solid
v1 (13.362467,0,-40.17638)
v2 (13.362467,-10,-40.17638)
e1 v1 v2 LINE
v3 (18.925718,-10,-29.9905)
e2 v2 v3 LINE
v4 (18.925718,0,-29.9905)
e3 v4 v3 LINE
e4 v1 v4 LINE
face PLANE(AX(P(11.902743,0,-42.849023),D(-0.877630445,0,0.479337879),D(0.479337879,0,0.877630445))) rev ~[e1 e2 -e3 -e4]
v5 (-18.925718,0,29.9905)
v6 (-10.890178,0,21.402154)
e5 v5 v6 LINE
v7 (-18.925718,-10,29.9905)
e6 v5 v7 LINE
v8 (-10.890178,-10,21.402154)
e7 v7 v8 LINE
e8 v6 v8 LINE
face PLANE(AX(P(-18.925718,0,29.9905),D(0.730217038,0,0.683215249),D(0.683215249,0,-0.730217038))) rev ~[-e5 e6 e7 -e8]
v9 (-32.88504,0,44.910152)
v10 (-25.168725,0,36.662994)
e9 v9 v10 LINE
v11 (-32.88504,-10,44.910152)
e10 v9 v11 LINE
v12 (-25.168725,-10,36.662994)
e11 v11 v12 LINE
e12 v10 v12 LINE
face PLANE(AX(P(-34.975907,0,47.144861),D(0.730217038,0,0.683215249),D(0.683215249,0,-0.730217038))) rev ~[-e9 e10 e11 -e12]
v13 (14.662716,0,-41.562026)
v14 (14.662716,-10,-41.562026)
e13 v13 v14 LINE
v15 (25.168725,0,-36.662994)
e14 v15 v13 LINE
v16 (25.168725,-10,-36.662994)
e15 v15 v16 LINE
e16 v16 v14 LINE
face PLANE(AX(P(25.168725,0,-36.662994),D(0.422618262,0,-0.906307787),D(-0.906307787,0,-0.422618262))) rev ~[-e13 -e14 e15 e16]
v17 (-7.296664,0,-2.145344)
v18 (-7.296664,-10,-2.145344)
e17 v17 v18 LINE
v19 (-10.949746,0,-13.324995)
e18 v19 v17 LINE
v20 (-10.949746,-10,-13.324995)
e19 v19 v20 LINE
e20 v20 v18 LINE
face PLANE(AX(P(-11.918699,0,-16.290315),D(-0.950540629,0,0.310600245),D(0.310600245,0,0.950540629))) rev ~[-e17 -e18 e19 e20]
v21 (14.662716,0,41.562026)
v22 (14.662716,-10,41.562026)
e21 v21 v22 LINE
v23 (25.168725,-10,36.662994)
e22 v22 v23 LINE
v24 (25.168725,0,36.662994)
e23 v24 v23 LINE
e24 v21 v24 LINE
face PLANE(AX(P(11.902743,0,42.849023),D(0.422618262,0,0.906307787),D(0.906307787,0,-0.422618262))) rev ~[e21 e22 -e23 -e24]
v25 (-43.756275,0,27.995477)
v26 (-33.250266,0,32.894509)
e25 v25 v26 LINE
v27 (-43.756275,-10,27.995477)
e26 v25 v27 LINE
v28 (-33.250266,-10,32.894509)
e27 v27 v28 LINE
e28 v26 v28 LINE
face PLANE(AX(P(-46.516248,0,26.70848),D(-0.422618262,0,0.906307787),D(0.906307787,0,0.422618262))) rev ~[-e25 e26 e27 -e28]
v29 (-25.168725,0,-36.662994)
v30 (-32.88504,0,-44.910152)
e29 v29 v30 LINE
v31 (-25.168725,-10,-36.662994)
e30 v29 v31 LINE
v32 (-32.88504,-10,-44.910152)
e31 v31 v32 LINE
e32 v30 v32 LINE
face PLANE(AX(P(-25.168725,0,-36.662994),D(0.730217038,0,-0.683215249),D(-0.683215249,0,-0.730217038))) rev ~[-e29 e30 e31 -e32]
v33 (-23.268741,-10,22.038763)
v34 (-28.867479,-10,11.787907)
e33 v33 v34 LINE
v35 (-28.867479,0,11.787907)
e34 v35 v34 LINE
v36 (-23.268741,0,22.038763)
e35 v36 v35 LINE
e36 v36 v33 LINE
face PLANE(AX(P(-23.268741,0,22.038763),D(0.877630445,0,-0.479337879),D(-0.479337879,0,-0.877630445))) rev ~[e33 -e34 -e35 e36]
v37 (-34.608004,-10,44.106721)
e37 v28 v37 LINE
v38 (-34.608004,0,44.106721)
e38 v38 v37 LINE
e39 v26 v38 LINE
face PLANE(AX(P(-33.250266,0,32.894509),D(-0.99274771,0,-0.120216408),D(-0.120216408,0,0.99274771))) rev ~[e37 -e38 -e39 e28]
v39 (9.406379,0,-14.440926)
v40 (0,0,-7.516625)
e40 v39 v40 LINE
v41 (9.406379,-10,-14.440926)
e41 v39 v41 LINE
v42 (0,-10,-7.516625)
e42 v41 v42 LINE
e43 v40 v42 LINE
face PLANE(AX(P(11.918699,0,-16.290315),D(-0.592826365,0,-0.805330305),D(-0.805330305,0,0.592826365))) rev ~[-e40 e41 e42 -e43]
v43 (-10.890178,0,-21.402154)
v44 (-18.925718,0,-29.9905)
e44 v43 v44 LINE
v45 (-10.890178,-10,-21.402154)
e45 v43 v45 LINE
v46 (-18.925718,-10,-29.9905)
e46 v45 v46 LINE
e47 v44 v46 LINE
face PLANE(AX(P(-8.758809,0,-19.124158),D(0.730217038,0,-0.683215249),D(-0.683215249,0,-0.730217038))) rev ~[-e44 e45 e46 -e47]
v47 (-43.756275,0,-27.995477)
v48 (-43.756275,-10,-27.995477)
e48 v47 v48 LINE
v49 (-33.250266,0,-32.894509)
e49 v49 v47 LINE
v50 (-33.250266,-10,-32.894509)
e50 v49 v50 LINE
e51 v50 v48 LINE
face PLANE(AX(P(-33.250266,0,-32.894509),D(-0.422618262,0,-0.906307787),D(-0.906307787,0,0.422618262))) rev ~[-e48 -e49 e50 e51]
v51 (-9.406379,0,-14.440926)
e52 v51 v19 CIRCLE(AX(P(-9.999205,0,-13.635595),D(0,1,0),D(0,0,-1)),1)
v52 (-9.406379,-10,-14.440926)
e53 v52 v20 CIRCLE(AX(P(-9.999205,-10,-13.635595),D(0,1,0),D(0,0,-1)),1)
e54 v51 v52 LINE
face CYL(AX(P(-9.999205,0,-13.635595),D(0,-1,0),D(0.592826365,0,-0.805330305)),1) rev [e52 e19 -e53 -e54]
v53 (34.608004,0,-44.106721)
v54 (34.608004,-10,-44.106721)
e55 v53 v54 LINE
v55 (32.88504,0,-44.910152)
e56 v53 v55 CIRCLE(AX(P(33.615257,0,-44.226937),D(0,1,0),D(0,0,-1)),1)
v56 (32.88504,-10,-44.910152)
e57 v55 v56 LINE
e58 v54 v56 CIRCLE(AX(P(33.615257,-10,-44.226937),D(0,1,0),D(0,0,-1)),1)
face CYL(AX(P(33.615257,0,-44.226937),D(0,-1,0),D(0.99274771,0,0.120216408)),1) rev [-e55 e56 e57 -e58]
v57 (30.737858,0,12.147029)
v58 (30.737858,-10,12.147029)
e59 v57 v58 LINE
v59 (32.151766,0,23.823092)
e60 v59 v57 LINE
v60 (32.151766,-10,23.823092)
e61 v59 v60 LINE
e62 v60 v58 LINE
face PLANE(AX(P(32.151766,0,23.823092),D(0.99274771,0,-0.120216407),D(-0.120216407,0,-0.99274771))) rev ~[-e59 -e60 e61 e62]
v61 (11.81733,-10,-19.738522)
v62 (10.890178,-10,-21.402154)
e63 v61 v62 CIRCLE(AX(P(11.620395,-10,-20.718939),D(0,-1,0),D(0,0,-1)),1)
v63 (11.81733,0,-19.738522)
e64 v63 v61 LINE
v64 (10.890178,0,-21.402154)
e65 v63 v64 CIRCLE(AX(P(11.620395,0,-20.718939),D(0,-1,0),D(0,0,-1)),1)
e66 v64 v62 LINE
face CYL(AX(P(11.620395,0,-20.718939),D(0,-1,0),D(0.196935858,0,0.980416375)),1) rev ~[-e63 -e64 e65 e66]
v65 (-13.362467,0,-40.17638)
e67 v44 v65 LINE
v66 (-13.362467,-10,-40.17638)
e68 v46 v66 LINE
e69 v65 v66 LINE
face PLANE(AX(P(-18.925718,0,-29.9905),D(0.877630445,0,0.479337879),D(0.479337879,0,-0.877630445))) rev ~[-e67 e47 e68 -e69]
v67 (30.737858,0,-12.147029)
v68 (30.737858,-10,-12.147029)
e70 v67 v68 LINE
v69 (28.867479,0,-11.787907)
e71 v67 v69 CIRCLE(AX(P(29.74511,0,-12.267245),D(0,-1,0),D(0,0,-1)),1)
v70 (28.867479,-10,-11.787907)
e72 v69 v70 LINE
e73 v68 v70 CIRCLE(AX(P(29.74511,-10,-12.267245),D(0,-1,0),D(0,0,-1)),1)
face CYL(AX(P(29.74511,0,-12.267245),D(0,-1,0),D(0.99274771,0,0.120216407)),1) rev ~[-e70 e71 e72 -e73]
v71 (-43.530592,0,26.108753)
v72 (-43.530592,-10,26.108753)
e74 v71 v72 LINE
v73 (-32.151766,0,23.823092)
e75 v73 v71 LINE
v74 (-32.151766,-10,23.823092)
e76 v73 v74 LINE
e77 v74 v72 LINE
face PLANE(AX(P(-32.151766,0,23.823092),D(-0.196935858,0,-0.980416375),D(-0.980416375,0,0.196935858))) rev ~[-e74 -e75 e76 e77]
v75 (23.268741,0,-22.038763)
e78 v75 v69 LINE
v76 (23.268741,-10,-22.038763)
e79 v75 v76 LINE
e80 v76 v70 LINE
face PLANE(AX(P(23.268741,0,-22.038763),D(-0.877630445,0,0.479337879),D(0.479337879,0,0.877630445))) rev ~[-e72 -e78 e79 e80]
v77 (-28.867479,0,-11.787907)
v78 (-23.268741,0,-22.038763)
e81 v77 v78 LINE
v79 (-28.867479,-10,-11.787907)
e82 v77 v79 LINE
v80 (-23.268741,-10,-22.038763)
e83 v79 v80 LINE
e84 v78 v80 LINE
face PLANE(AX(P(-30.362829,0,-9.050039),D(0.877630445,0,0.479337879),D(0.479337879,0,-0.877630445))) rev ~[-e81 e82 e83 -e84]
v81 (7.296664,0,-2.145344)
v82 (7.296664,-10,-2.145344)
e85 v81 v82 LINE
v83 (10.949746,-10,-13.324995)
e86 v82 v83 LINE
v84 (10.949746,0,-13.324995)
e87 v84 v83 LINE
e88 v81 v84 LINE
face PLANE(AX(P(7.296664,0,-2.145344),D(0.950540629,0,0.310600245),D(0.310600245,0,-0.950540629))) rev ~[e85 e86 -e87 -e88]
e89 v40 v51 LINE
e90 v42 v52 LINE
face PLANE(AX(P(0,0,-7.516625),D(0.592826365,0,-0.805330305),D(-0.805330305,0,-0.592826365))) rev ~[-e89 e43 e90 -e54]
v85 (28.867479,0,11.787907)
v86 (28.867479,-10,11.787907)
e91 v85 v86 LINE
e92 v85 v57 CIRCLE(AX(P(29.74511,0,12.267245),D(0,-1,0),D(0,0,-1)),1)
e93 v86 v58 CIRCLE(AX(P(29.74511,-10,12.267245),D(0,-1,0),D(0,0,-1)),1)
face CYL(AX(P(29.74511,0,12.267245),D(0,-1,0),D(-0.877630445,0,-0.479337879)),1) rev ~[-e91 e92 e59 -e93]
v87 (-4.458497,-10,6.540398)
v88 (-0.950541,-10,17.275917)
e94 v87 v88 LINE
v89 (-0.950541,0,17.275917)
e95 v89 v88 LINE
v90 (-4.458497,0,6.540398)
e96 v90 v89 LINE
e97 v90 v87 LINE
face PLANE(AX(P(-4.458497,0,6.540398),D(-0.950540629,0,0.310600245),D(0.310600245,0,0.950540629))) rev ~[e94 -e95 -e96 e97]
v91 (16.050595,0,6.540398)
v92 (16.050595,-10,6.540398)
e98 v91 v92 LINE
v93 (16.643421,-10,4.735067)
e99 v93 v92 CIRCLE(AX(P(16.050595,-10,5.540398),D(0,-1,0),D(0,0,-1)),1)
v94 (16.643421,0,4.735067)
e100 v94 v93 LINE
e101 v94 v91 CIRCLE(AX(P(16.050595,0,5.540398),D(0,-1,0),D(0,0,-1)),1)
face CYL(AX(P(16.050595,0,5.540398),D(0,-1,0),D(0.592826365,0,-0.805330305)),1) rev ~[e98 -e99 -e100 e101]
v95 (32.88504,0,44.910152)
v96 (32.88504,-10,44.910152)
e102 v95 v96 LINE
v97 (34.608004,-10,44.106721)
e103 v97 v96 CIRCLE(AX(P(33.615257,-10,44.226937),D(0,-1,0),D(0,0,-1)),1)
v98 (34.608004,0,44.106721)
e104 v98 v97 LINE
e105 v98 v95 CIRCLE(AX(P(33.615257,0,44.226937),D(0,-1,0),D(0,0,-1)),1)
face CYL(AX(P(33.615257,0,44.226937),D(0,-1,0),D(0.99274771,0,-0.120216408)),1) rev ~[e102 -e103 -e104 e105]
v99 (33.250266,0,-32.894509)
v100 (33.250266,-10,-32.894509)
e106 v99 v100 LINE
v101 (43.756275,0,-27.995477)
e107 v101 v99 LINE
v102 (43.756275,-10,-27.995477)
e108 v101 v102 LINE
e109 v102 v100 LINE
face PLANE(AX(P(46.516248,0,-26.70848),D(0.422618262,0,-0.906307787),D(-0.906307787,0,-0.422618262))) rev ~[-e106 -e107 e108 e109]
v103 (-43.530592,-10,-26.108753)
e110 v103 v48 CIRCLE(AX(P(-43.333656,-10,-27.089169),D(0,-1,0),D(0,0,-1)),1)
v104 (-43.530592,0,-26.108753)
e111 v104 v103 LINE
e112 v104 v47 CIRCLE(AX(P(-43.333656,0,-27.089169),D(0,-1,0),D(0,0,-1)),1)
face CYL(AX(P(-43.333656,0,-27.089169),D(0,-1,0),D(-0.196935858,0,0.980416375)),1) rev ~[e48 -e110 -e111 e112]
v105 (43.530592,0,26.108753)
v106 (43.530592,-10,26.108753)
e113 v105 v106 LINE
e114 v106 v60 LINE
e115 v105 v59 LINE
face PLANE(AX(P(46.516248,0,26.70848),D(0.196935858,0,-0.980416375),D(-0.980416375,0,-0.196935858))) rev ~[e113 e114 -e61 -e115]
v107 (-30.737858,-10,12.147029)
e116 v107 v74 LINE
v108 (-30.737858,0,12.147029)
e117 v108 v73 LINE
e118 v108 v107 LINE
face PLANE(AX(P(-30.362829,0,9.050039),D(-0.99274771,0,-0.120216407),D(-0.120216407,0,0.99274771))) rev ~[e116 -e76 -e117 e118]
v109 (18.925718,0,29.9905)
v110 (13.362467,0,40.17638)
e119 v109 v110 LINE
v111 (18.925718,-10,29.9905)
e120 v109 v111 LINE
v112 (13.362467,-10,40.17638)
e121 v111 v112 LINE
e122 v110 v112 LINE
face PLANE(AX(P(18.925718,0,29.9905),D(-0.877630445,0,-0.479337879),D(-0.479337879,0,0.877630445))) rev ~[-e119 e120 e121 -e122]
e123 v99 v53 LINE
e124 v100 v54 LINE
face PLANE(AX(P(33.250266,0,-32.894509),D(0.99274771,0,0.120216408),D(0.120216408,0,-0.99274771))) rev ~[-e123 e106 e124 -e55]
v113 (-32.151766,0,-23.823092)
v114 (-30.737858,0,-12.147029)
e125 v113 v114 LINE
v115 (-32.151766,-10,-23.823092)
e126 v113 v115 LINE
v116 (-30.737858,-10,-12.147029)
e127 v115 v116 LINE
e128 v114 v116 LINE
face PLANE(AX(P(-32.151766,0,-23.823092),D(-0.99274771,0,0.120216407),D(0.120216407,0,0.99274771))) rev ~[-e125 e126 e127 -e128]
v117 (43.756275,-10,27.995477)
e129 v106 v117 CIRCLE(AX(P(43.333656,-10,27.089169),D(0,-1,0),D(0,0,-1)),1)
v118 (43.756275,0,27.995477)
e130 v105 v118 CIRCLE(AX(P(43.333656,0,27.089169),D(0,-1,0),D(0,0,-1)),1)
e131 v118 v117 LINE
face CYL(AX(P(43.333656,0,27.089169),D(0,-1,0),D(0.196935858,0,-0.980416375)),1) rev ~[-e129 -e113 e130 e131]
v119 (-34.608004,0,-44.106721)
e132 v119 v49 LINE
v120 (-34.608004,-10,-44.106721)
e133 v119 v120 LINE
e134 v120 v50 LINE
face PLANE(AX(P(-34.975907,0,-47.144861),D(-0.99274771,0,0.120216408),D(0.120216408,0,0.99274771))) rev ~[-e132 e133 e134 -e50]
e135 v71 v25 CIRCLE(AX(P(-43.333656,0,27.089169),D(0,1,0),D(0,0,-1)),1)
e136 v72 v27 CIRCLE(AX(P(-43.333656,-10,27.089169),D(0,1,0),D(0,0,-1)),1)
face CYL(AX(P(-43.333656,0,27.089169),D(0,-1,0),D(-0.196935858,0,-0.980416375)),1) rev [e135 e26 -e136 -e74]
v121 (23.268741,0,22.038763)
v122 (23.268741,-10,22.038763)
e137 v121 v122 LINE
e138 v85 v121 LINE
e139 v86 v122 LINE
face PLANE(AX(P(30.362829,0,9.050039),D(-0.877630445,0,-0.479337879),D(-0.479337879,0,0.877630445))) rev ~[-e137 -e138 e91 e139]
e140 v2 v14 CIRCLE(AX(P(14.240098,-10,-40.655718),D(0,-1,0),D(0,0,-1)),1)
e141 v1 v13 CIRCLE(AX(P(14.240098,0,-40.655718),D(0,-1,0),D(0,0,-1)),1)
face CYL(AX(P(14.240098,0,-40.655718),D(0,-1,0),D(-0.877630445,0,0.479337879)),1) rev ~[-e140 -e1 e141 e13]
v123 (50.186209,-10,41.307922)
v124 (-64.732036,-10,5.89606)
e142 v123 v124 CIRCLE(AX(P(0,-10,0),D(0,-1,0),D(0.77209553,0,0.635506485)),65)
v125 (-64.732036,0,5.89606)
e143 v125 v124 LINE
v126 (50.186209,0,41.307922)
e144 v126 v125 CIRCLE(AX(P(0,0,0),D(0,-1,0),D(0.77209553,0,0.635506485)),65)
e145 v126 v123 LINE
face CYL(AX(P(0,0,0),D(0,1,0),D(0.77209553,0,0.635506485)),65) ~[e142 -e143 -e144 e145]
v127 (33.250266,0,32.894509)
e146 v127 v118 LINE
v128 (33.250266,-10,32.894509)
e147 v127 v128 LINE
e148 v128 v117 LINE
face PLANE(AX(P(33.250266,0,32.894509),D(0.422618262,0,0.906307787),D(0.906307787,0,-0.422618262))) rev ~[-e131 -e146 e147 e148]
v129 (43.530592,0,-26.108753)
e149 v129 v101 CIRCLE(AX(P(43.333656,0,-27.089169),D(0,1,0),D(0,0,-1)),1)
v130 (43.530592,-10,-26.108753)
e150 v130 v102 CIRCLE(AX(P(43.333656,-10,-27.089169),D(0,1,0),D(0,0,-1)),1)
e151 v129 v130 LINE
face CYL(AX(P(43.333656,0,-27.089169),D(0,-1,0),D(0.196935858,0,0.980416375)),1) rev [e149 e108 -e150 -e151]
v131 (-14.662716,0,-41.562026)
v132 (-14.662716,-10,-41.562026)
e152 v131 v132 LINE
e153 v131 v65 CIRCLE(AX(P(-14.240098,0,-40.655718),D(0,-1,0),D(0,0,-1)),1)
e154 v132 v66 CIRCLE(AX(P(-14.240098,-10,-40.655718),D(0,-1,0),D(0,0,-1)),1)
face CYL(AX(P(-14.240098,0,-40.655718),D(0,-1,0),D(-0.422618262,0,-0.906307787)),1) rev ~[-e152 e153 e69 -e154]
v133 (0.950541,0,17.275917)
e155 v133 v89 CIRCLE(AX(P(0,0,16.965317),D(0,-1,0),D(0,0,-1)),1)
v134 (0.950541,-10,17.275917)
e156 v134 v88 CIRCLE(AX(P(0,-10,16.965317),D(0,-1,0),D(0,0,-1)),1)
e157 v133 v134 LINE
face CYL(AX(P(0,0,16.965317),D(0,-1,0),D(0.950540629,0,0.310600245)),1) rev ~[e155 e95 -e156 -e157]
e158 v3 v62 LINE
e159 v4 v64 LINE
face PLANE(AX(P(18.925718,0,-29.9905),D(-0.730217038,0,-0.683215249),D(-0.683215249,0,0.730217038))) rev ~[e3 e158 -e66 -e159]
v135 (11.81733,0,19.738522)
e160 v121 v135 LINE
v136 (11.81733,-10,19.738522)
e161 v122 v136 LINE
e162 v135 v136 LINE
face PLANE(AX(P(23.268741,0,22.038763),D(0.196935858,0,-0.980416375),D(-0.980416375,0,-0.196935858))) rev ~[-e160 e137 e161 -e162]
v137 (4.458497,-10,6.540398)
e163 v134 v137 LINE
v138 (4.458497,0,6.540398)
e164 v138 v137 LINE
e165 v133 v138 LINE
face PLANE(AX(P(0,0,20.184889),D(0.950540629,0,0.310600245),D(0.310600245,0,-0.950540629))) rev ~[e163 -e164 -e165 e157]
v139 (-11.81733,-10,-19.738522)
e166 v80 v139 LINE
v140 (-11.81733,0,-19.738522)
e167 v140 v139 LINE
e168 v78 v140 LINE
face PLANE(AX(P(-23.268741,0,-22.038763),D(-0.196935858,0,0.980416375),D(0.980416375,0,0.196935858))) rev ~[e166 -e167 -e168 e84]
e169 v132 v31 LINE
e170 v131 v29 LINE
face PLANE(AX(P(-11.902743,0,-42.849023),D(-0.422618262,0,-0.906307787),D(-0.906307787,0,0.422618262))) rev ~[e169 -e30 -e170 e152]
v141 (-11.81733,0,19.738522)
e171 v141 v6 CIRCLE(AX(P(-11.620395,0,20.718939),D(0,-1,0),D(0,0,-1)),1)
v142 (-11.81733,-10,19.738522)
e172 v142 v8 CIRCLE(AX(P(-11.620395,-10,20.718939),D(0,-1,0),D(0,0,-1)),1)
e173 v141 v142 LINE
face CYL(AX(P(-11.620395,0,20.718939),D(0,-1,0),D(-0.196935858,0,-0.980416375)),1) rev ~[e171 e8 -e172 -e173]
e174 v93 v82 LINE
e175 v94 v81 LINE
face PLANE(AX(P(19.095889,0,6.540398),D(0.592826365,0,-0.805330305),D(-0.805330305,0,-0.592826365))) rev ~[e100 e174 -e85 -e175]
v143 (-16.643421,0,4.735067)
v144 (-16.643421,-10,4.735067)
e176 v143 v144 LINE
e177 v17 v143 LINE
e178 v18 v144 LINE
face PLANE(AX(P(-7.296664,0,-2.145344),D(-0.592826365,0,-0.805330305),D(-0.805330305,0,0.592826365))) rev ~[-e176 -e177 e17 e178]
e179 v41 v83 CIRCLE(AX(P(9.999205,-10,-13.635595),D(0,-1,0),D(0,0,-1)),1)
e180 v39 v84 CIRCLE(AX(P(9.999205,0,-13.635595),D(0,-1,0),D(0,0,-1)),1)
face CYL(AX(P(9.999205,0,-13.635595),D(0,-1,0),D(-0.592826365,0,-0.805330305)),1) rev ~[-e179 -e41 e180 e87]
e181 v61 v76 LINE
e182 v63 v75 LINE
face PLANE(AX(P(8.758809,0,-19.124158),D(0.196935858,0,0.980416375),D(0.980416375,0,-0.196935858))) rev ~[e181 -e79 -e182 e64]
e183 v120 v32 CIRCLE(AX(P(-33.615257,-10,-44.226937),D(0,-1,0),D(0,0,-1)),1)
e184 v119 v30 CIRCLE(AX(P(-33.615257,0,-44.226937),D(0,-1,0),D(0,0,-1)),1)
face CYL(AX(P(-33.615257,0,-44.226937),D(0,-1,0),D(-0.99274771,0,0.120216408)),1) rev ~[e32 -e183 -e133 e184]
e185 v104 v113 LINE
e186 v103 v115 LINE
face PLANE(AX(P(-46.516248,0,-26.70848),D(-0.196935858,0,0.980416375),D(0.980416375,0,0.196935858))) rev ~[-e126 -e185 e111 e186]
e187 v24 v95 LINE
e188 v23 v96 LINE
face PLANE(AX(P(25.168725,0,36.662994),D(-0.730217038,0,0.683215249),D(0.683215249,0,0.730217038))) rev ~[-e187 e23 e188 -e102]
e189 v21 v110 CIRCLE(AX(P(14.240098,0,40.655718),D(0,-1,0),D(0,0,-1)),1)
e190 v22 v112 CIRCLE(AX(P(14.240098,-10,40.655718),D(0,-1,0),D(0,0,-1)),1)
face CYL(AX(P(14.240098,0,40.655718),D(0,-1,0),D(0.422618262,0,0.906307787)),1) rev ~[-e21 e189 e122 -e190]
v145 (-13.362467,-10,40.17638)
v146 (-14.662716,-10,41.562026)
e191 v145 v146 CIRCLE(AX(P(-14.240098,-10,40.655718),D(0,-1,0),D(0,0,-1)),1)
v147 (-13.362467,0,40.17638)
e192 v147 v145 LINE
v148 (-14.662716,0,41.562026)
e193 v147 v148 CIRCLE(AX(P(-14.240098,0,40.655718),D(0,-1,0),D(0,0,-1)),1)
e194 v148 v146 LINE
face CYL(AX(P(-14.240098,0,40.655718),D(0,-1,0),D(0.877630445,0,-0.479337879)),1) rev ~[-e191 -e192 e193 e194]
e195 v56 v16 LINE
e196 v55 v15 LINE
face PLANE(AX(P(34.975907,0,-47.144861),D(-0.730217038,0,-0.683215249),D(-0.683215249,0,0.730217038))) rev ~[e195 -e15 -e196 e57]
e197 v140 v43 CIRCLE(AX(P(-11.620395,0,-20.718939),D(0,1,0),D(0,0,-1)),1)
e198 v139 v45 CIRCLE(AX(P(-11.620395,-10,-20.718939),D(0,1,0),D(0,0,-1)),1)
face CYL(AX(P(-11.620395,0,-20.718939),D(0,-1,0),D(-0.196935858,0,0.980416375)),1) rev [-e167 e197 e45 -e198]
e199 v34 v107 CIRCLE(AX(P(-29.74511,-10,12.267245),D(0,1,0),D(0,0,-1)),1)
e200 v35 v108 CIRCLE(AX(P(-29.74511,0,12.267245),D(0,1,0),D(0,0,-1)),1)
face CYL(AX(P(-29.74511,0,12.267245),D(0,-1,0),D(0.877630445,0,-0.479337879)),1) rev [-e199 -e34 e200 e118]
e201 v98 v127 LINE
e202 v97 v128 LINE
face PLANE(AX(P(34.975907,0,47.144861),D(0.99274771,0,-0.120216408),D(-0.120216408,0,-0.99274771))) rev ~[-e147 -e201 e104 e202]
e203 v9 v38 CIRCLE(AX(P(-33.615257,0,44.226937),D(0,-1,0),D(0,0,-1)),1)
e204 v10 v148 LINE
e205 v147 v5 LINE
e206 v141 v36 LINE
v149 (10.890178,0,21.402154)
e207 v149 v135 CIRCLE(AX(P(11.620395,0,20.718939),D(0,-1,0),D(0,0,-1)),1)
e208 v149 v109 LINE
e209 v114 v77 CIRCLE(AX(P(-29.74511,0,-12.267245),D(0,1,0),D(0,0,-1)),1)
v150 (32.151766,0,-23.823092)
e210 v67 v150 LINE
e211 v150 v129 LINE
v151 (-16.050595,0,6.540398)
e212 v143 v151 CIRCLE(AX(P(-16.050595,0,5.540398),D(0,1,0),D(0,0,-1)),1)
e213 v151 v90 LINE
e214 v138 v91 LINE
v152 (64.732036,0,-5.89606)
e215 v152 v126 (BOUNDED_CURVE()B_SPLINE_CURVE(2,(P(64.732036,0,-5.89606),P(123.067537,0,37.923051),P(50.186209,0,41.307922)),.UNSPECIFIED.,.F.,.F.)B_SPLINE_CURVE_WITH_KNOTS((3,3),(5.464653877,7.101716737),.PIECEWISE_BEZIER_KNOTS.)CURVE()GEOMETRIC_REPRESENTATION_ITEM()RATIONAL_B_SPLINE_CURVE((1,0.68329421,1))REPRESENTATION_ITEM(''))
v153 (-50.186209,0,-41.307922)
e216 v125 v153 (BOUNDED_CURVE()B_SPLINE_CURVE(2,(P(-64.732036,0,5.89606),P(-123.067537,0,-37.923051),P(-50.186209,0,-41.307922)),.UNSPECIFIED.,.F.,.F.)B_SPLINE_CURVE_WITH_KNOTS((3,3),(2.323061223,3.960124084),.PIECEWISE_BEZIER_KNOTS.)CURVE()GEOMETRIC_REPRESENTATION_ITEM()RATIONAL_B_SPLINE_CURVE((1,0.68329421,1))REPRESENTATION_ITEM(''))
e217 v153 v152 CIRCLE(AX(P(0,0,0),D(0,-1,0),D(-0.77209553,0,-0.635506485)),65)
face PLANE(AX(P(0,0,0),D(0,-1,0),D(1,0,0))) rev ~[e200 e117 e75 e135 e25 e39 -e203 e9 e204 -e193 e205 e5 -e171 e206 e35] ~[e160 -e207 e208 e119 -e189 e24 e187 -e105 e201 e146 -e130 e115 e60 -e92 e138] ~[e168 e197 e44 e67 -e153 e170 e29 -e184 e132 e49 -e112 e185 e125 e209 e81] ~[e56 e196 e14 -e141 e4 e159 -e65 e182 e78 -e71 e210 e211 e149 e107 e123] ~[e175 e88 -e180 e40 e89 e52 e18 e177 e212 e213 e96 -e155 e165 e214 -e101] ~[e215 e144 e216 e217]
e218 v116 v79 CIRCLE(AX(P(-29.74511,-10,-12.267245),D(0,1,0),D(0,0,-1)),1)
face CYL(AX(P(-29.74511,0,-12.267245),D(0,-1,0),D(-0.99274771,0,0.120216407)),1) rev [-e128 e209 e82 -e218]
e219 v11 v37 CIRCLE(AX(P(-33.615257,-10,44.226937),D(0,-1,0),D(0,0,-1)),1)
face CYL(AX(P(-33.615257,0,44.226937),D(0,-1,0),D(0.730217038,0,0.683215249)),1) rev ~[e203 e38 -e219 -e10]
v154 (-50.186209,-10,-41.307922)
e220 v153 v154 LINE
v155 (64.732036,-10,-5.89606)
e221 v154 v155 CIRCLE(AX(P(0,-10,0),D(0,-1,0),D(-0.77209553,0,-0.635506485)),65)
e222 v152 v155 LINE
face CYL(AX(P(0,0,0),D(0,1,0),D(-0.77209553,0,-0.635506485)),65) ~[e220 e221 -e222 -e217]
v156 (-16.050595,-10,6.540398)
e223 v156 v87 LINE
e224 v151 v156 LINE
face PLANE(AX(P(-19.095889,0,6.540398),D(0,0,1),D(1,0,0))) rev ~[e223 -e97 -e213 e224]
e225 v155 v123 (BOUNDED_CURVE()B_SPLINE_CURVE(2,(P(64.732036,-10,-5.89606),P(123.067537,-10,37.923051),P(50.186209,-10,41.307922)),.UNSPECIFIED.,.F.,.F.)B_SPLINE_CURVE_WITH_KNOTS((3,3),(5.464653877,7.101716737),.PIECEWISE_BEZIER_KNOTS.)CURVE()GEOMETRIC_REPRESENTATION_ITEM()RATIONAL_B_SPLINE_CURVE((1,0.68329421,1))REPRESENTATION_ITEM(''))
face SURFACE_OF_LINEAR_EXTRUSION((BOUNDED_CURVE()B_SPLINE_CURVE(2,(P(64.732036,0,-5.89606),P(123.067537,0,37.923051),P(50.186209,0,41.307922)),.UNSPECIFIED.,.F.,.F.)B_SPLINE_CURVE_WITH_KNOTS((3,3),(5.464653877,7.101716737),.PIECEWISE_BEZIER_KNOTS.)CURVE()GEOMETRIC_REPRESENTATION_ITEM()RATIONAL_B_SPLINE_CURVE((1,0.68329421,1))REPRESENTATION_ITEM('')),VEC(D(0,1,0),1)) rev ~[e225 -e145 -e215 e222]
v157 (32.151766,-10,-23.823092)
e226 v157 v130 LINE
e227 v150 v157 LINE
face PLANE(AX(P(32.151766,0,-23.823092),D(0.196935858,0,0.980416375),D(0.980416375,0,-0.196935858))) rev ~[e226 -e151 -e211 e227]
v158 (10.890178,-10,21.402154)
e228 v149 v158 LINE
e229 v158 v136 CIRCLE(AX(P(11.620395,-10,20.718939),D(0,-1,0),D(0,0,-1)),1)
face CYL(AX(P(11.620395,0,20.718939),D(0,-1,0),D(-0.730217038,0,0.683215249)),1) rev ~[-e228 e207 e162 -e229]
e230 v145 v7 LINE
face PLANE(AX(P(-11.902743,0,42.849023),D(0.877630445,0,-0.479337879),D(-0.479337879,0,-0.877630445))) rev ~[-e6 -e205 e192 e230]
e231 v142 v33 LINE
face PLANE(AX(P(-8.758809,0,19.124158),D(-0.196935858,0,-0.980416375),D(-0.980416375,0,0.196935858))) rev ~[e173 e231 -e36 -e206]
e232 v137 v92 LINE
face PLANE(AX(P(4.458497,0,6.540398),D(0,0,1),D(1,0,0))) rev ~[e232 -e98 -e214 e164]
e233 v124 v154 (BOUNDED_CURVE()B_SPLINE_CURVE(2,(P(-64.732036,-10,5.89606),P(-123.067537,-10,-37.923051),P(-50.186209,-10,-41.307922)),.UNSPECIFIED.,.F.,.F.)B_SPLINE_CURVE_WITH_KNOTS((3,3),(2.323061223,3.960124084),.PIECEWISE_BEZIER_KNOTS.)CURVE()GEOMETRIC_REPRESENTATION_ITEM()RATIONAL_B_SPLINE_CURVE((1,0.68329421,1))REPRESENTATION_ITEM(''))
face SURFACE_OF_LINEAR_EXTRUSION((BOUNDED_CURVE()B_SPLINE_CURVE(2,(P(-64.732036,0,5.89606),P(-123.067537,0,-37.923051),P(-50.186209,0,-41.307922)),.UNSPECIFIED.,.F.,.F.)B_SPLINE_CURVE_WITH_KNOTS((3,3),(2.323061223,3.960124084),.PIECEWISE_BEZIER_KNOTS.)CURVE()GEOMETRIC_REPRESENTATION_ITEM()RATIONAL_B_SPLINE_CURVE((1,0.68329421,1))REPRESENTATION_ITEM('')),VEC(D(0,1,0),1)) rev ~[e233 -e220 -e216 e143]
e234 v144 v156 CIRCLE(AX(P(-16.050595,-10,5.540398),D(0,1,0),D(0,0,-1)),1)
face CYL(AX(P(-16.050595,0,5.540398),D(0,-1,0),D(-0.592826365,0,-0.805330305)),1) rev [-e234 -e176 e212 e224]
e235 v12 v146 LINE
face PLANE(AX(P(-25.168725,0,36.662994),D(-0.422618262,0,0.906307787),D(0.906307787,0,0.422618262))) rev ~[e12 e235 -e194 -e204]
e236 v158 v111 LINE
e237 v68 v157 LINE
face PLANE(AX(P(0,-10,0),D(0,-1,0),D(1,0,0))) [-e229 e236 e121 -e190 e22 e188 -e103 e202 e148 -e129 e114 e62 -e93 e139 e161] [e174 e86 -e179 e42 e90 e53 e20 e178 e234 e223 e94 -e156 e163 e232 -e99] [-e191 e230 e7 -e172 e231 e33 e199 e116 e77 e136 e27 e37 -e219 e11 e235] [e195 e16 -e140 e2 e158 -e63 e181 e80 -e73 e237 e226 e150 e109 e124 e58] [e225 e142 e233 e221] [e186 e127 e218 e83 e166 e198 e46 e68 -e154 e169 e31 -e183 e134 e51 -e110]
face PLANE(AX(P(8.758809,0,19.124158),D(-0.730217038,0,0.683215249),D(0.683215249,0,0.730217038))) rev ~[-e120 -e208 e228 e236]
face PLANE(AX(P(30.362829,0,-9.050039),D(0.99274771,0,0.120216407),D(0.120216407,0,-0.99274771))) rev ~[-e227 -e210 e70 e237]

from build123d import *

# Parameters (mm, degrees)
F1_DEPTH = 10
F2_R     = 1


with BuildPart() as f1:
    # F0 (on Front) → F1 (new body)
    with BuildSketch(Plane.XZ):
        with BuildLine():
            add(Edge.make_bspline(
                [(-64.7320359031, 5.8960603655), (-123.067537089, -37.923051477), (-50.1862094657, -41.3079215098)],
                knots=[2.3230612235, 2.3230612235, 2.3230612235, 3.9601240836, 3.9601240836, 3.9601240836], degree=2, weights=[1, 0.68329421, 1]))
            ThreePointArc((-50.1862094657, -41.3079215098), (19.1414535528, -62.1176686289), (64.7320359031, -5.8960603655))
            add(Edge.make_bspline(
                [(64.7320359031, -5.8960603655), (123.067537089, 37.923051477), (50.1862094657, 41.3079215098)],
                knots=[5.4646538771, 5.4646538771, 5.4646538771, 7.1017167372, 7.1017167372, 7.1017167372], degree=2, weights=[1, 0.68329421, 1]))
            ThreePointArc((50.1862094657, 41.3079215098), (-19.1414535528, 62.1176686289), (-64.7320359031, 5.8960603655))
        make_face()
        Polygon((-32.1517660584, -23.8230923945), (-30.3628287151, -9.0500386362), (-23.268740969, -22.0387625849), (-8.7588094598, -19.1241582619), (-18.9257184403, -29.9904996859), (-11.9027429034, -42.8490227002), (-25.1687248766, -36.6629937131), (-34.9759067352, -47.1448605899), (-33.2502658453, -32.8945092697), (-46.5162478185, -26.7084802827), align=None, mode=Mode.SUBTRACT)
        Polygon((32.1517660584, -23.8230923945), (46.5162478185, -26.7084802827), (33.2502658453, -32.8945092697), (34.9759067352, -47.1448605899), (25.1687248766, -36.6629937131), (11.9027429034, -42.8490227002), (18.9257184403, -29.9904996859), (8.7588094598, -19.1241582619), (23.268740969, -22.0387625849), (30.3628287151, -9.0500386362), align=None, mode=Mode.SUBTRACT)
        Polygon((-23.268740969, 22.0387625849), (-30.3628287151, 9.0500386362), (-32.1517660584, 23.8230923945), (-46.5162478185, 26.7084802827), (-33.2502658453, 32.8945092697), (-34.9759067352, 47.1448605899), (-25.1687248766, 36.6629937131), (-11.9027429034, 42.8490227002), (-18.9257184403, 29.9904996859), (-8.7588094598, 19.1241582619), align=None, mode=Mode.SUBTRACT)
        Polygon((0, -7.5166247813), (-11.9186989036, -16.2903154078), (-7.2966644485, -2.1453441579), (-19.0958885106, 6.540397666), (-4.4584969281, 6.540397666), (0, 20.1848893888), (4.4584969281, 6.540397666), (19.0958885106, 6.540397666), (7.2966644485, -2.1453441579), (11.9186989036, -16.2903154078), align=None, mode=Mode.SUBTRACT)
        Polygon((25.1687248766, 36.6629937131), (34.9759067352, 47.1448605899), (33.2502658453, 32.8945092697), (46.5162478185, 26.7084802827), (32.1517660584, 23.8230923945), (30.3628287151, 9.0500386362), (23.268740969, 22.0387625849), (8.7588094598, 19.1241582619), (18.9257184403, 29.9904996859), (11.9027429034, 42.8490227002), align=None, mode=Mode.SUBTRACT)
    extrude(amount=F1_DEPTH)

    # F2
    f2_edges = [f1.edges().sort_by_distance(p)[0] for p in [
        (-34.975907, -5, 47.144861),
        (-11.902743, -5, 42.849023),
        (-46.516248, -5, 26.70848),
        (-30.362829, -5, 9.050039),
        (-8.758809, -5, 19.124158),
        (46.516248, -5, 26.70848),
        (30.362829, -5, 9.050039),
        (8.758809, -5, 19.124158),
        (11.902743, -5, 42.849023),
        (34.975907, -5, 47.144861),
        (0, -5, 20.184889),
        (19.095889, -5, 6.540398),
        (-19.095889, -5, 6.540398),
        (11.918699, -5, -16.290315),
        (-11.918699, -5, -16.290315),
        (46.516248, -5, -26.70848),
        (30.362829, -5, -9.050039),
        (34.975907, -5, -47.144861),
        (8.758809, -5, -19.124158),
        (11.902743, -5, -42.849023),
        (-46.516248, -5, -26.70848),
        (-34.975907, -5, -47.144861),
        (-11.902743, -5, -42.849023),
        (-8.758809, -5, -19.124158),
        (-30.362829, -5, -9.050039),
    ]]
    fillet(f2_edges, radius=F2_R)


solid = f1.part
